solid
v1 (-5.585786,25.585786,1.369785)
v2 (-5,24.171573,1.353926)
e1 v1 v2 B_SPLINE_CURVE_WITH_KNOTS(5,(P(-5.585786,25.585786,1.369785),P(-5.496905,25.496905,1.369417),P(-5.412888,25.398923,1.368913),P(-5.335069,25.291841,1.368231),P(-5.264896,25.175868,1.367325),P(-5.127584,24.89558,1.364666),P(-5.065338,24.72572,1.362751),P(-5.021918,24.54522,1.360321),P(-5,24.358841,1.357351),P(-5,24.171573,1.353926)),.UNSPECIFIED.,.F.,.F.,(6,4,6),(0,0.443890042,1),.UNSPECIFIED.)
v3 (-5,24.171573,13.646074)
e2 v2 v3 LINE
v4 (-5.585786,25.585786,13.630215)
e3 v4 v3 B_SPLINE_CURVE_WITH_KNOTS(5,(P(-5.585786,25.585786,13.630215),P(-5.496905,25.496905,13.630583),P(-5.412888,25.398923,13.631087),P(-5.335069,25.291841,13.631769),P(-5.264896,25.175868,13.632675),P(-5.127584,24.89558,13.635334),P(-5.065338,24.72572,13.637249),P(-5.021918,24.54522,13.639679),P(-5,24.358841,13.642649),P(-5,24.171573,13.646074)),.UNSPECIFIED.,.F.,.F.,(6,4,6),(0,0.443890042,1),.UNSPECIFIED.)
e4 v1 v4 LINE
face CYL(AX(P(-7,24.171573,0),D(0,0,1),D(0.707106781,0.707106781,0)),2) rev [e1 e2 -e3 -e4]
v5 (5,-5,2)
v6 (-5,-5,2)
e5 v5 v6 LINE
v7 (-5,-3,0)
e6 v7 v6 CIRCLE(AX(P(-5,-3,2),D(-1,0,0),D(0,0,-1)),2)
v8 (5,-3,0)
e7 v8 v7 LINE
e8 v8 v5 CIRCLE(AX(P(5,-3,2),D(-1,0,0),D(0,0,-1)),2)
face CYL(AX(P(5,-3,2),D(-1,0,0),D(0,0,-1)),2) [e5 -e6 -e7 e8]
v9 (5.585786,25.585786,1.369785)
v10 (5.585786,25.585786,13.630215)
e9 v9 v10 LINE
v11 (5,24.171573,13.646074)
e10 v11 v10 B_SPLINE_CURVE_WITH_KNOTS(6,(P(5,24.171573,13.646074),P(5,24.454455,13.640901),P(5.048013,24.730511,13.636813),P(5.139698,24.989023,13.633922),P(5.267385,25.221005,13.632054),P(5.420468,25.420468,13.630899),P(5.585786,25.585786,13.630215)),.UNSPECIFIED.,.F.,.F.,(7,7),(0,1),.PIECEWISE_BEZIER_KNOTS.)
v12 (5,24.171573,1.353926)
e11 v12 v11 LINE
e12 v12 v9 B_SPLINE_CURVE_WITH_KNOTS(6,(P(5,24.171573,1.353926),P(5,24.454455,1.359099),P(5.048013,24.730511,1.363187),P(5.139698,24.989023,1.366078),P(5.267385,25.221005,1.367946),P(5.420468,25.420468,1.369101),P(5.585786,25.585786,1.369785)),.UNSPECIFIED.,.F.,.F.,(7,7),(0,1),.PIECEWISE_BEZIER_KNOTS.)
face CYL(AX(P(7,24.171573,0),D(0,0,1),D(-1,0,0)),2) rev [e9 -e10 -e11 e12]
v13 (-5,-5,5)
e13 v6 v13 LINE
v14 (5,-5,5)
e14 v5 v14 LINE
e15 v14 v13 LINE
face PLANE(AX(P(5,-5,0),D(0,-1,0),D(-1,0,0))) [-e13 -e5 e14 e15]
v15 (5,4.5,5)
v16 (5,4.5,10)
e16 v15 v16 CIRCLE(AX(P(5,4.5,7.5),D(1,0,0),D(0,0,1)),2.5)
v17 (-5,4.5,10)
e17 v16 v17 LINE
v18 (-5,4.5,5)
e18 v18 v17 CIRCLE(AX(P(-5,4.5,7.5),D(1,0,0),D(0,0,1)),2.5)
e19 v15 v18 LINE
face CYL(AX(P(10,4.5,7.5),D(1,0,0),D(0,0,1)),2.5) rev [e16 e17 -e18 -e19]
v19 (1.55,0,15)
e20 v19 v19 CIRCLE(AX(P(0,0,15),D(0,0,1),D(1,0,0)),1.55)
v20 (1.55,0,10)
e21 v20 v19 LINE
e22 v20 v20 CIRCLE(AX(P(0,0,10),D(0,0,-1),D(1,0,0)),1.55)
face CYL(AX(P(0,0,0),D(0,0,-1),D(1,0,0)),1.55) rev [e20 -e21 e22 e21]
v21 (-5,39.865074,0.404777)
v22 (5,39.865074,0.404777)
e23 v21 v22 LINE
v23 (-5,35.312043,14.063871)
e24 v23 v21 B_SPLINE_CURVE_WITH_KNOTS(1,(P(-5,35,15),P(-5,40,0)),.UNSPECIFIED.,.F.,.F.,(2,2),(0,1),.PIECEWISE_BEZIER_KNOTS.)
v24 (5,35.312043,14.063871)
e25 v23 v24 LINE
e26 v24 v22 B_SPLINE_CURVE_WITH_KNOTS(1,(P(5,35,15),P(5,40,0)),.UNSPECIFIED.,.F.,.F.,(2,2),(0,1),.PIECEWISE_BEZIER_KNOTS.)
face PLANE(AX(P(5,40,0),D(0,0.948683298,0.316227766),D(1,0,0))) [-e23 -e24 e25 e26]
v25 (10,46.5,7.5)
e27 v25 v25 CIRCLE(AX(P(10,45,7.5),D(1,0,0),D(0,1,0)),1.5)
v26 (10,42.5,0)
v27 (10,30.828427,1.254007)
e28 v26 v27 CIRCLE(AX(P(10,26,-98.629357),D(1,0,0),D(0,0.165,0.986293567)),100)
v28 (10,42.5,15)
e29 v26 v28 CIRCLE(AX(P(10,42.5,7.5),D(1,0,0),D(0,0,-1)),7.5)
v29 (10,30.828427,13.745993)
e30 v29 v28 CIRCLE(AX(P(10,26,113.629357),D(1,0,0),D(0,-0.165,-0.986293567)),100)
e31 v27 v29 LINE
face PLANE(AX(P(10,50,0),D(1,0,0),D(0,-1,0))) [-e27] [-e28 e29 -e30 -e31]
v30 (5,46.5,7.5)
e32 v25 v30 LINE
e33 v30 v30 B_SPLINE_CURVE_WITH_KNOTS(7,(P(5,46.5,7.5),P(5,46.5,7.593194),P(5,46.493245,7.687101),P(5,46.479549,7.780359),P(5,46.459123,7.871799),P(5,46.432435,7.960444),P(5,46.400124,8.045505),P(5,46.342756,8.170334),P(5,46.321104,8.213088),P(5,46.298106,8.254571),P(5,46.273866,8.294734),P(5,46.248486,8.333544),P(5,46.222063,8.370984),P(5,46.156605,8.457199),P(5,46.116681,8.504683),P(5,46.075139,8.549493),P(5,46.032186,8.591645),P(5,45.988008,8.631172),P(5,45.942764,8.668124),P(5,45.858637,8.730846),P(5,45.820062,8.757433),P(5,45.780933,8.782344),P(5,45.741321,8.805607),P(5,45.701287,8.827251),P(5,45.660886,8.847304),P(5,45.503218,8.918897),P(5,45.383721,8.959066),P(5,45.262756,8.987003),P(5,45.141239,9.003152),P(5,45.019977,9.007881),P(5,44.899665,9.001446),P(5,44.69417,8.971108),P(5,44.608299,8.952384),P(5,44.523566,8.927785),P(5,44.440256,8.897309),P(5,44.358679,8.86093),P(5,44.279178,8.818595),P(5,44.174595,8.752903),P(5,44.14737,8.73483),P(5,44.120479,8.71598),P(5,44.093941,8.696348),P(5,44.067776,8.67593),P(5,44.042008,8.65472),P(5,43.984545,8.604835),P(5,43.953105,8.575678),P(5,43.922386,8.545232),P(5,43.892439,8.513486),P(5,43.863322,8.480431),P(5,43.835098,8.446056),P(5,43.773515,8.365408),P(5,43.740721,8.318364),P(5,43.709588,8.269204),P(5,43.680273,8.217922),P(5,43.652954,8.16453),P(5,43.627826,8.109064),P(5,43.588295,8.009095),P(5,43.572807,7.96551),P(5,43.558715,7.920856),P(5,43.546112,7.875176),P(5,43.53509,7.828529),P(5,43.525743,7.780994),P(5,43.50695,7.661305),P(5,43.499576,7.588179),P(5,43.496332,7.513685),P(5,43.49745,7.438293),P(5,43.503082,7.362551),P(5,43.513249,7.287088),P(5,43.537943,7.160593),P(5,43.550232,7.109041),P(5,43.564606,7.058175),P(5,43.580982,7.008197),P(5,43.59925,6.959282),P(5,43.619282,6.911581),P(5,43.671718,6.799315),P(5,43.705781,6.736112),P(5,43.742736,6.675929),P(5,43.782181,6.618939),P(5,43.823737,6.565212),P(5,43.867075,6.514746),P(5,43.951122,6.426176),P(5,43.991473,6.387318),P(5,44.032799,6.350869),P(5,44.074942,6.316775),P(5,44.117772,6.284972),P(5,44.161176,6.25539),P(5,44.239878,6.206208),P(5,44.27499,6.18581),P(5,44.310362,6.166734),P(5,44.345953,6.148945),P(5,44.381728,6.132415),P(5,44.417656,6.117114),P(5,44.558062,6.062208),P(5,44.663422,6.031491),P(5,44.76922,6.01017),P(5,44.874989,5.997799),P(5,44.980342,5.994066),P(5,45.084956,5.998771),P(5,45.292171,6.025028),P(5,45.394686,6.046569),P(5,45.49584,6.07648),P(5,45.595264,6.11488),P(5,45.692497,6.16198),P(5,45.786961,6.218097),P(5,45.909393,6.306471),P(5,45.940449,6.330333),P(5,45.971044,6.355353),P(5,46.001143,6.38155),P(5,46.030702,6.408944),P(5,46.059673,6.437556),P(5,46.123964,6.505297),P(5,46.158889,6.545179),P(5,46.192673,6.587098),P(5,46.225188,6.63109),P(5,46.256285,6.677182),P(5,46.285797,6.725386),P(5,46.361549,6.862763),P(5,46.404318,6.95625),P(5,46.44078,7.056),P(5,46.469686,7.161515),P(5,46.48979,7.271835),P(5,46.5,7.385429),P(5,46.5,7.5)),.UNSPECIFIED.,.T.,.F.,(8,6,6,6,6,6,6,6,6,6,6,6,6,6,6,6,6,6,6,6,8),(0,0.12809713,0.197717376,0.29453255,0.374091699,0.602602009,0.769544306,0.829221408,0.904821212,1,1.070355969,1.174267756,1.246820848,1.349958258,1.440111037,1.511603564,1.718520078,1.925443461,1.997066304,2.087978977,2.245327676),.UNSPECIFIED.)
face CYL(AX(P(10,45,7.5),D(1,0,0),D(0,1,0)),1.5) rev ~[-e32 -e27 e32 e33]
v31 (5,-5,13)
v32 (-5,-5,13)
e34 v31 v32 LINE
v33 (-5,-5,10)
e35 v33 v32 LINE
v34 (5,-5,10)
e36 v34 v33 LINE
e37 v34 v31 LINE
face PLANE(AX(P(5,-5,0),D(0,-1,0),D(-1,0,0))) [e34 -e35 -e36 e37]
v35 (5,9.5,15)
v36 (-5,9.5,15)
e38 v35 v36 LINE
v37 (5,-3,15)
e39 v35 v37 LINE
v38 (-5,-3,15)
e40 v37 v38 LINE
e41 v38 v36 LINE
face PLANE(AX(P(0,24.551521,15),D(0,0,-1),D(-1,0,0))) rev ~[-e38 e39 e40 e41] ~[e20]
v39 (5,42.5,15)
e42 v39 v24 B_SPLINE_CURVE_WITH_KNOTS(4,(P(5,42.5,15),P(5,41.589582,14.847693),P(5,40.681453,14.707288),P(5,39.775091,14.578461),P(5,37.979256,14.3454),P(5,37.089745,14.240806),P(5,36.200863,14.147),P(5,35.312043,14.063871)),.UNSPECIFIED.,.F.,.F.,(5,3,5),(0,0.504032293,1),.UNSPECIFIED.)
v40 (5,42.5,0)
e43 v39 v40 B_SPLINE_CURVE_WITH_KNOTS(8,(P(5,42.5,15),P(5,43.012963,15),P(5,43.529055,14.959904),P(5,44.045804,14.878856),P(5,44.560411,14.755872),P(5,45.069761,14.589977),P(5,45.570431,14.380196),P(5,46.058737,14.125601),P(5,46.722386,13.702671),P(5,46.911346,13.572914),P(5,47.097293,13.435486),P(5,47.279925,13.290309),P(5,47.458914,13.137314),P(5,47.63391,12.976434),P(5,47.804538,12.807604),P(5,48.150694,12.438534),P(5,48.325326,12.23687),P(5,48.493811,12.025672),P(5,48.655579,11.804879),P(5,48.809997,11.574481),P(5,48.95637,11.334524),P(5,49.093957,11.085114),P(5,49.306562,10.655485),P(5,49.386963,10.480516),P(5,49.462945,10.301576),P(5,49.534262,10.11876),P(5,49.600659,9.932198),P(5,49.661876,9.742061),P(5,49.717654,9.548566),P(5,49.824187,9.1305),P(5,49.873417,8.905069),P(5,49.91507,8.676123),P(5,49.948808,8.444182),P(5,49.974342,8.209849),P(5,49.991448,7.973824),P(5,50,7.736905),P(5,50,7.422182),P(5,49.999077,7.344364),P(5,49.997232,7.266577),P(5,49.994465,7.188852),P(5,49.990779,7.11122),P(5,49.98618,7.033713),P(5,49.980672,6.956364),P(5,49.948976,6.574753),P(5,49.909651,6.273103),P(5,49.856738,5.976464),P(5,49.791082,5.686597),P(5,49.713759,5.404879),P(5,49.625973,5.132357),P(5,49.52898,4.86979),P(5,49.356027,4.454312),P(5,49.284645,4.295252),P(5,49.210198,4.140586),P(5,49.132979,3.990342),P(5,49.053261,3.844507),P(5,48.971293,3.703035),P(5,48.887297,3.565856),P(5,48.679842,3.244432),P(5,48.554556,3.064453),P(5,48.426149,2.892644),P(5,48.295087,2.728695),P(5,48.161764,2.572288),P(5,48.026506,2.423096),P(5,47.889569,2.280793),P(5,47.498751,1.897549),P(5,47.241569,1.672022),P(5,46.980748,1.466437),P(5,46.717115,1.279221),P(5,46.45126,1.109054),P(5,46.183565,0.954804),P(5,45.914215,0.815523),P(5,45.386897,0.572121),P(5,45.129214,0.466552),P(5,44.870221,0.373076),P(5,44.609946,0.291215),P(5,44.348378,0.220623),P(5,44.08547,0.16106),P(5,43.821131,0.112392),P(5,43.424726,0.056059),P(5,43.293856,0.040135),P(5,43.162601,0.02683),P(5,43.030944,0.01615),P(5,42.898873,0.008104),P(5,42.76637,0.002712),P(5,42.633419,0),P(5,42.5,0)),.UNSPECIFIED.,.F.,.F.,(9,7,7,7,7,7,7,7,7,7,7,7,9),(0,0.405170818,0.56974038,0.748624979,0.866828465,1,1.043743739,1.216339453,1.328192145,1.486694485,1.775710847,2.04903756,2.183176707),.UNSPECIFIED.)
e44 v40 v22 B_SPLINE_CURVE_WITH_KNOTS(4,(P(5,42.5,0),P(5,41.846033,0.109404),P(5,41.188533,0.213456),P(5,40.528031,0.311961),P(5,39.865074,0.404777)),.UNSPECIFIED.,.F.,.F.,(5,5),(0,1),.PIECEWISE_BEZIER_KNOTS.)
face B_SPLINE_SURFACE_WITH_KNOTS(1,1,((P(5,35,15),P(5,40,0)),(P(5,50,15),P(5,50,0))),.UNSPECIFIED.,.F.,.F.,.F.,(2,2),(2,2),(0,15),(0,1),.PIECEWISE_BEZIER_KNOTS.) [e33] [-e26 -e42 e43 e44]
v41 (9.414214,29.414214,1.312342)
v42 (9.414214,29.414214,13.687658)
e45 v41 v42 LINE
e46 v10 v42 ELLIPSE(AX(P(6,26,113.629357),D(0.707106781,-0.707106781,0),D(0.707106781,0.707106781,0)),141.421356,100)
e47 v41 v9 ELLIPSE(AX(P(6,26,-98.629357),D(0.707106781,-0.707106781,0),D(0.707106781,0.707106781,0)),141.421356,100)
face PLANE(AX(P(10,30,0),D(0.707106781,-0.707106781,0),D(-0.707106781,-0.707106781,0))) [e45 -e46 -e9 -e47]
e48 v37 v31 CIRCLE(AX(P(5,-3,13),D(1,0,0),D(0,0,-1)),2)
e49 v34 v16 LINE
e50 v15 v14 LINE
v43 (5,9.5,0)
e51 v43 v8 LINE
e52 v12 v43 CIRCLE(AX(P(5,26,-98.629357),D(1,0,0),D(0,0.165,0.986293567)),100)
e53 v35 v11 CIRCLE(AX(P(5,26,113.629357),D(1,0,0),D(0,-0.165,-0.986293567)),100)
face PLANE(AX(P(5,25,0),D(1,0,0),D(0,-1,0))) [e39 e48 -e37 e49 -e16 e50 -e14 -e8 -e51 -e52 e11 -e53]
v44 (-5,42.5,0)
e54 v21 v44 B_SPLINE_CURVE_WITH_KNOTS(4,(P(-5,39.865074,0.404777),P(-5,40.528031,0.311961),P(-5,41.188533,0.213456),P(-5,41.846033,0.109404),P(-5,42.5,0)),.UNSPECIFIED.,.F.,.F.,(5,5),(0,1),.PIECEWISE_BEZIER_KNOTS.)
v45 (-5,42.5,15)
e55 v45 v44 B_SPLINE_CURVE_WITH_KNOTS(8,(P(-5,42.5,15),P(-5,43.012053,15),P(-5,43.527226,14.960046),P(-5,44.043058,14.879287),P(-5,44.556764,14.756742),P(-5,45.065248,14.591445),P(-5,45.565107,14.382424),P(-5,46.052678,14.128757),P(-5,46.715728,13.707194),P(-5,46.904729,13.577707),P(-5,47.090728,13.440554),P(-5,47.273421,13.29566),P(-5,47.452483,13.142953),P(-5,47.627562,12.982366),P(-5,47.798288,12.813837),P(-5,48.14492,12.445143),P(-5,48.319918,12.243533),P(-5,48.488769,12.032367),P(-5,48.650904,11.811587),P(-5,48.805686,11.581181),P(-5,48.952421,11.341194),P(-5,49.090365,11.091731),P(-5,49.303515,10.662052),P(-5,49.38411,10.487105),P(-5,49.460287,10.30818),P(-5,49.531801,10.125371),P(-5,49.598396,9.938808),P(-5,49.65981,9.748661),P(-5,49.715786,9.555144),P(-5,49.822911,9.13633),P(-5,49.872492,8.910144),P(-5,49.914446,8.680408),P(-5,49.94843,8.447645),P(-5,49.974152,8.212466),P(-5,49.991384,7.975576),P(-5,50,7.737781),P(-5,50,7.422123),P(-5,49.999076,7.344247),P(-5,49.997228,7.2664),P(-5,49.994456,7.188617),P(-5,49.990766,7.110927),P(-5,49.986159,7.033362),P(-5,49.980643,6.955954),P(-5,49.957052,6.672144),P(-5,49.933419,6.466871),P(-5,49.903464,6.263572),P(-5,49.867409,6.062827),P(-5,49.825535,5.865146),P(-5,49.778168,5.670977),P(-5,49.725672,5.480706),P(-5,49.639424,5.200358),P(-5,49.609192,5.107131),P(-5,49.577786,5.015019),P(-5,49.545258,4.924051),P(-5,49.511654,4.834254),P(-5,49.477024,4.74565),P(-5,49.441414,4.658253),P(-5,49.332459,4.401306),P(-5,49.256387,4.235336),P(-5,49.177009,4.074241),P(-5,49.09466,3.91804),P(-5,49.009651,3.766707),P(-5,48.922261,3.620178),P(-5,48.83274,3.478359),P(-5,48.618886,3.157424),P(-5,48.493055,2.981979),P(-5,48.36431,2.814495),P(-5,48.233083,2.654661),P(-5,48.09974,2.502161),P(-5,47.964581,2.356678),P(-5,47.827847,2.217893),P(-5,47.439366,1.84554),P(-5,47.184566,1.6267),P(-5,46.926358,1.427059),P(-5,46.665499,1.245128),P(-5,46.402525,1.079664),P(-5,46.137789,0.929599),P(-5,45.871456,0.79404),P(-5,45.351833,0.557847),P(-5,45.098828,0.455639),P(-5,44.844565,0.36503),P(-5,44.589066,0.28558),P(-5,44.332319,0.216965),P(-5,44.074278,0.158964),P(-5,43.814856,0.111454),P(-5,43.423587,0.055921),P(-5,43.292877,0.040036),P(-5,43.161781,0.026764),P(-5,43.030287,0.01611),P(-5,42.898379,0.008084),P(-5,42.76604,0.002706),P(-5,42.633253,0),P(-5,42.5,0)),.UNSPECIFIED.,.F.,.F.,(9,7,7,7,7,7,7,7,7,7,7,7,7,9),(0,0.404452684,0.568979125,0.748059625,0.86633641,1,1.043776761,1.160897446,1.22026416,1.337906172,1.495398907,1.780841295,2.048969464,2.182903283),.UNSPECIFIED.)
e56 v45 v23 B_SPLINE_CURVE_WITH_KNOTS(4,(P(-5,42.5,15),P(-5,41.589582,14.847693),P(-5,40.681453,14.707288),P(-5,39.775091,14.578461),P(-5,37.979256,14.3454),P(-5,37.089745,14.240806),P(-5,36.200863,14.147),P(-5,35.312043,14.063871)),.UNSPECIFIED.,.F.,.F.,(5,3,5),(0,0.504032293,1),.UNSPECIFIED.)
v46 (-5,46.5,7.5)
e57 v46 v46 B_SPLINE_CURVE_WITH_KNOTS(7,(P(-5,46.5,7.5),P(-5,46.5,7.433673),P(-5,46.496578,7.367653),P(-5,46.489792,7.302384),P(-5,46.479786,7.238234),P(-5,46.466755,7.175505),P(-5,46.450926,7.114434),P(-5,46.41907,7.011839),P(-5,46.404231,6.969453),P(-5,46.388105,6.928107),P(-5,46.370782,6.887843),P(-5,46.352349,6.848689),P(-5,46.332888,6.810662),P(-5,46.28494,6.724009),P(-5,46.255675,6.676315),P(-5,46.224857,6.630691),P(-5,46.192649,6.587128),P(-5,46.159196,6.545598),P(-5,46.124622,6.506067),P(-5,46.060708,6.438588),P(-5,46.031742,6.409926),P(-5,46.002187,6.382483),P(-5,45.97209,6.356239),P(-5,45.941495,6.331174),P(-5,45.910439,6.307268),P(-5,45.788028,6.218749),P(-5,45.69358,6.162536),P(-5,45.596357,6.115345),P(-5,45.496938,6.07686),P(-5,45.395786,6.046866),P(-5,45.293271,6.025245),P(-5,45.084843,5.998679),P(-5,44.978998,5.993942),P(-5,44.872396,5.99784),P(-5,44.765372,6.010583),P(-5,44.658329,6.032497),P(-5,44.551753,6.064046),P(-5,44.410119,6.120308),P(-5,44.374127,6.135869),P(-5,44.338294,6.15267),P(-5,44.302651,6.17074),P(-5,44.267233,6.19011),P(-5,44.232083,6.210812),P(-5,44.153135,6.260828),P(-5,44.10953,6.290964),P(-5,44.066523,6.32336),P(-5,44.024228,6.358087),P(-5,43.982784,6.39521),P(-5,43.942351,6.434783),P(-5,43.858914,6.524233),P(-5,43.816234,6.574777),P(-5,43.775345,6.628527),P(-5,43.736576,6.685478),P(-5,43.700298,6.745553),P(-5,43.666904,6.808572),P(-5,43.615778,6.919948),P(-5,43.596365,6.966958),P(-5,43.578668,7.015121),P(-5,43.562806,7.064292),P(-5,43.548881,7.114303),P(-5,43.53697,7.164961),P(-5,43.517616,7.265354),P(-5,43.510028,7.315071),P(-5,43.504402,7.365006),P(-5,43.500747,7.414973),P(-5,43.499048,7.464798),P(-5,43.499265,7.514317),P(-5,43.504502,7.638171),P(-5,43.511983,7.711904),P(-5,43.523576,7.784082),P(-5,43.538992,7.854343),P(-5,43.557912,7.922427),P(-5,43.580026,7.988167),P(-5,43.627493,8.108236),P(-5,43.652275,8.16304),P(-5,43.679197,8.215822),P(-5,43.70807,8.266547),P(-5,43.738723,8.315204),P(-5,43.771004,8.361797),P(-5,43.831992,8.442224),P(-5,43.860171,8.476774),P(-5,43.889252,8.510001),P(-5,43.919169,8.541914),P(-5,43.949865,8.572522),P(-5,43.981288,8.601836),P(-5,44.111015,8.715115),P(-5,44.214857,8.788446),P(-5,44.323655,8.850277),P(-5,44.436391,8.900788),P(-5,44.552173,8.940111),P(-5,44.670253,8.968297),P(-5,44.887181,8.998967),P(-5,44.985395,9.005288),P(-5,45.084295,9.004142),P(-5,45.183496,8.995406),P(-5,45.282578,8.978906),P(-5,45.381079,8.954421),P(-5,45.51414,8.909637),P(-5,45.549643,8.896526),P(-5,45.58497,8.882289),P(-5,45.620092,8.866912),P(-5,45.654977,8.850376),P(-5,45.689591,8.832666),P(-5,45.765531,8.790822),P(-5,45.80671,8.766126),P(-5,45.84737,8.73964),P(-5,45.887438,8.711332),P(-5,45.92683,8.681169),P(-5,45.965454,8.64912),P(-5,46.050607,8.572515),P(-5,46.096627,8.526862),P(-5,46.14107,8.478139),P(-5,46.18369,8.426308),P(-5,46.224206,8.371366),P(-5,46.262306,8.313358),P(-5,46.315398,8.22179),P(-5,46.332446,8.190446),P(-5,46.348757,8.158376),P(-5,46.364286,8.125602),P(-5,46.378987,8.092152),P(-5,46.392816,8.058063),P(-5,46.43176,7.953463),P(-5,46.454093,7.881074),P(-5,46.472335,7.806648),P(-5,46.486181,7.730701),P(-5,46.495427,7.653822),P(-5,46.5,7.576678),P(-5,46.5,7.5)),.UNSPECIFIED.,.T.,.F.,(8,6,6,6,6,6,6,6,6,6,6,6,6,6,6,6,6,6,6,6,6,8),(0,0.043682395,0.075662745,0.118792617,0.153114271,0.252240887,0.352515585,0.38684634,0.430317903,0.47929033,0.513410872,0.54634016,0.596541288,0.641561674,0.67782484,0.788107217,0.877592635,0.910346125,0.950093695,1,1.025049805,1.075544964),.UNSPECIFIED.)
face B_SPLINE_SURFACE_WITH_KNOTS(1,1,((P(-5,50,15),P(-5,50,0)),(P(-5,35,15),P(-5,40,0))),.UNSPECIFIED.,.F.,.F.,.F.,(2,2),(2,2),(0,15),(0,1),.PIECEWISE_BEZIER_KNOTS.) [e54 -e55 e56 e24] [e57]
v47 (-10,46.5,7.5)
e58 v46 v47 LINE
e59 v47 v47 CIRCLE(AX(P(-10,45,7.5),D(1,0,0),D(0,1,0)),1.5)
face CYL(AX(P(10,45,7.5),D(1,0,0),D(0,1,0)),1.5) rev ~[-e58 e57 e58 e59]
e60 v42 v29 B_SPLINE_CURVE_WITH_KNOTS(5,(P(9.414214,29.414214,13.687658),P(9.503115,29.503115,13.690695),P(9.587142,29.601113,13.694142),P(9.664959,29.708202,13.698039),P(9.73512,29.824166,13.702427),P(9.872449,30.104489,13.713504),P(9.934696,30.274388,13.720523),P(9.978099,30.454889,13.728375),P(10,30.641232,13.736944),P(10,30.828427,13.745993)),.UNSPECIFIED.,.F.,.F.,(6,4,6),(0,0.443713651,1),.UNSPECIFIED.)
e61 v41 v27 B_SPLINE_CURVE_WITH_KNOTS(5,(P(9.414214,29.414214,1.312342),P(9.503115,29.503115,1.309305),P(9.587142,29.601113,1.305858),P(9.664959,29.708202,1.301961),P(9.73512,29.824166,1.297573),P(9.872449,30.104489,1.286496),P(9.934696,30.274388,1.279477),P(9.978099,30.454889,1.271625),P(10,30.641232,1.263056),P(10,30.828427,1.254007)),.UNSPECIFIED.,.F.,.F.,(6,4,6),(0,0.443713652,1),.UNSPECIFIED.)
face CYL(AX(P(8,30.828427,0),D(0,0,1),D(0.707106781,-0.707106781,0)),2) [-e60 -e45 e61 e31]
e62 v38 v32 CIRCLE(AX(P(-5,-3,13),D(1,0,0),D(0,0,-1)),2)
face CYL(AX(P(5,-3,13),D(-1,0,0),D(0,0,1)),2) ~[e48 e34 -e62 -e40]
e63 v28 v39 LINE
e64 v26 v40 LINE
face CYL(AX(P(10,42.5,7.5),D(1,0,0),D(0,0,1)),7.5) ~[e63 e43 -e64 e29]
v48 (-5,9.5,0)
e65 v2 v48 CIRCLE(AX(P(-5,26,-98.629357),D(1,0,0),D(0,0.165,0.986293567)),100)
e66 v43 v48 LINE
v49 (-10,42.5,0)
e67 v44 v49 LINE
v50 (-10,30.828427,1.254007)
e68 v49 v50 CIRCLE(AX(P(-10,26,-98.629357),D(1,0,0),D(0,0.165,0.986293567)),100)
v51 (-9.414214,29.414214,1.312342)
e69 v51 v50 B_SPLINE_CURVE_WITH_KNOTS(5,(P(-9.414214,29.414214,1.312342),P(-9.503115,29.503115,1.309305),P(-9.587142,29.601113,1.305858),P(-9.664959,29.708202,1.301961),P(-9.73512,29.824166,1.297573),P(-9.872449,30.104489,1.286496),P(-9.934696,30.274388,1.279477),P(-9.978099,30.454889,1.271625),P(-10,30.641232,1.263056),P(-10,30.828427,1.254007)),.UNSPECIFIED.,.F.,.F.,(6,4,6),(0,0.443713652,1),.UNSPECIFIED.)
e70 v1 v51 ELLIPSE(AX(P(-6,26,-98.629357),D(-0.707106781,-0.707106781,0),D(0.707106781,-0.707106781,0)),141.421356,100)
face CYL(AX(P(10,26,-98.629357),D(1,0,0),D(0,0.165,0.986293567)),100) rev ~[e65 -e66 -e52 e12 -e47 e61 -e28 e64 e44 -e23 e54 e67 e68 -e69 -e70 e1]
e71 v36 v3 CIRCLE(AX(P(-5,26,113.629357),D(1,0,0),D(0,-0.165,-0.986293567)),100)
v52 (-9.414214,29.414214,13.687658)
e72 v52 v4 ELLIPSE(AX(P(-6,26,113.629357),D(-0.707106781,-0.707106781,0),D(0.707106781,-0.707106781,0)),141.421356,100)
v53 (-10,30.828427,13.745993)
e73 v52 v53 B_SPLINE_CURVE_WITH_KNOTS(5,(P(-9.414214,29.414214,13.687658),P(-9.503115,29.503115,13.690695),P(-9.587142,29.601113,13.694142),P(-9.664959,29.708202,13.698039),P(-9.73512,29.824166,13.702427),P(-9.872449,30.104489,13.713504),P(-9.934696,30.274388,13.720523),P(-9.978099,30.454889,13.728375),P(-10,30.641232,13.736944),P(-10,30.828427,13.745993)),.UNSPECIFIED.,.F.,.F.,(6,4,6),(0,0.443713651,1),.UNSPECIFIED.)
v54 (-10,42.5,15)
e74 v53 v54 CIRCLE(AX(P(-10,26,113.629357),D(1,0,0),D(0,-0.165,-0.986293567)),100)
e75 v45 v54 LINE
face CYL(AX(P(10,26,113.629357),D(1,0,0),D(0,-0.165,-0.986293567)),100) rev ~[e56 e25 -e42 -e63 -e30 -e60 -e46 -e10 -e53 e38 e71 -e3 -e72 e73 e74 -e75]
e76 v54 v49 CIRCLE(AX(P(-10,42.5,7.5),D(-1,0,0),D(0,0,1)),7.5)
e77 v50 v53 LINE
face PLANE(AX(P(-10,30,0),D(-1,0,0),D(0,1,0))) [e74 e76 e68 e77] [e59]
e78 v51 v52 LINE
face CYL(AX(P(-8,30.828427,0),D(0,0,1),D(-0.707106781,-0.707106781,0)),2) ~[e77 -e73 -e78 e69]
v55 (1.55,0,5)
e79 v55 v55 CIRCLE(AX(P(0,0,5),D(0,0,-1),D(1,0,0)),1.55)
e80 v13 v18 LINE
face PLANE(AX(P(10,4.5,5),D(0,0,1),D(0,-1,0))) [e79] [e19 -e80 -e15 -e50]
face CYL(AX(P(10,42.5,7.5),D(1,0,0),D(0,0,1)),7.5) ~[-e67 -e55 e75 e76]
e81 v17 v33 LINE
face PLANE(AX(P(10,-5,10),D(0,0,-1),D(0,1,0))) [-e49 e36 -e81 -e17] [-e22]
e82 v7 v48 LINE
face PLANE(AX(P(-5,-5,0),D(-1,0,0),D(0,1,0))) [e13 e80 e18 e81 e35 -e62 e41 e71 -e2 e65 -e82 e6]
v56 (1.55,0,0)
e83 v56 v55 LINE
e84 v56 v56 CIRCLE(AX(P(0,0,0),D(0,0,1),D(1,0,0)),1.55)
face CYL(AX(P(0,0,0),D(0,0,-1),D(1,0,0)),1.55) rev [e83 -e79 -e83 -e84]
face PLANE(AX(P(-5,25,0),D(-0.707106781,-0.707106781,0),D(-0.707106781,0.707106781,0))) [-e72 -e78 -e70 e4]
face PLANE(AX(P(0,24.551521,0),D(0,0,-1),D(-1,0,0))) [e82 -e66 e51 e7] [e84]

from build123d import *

# Parameters (mm, degrees)
CROQUIS1_R              = 1.55
SALIENTE_EXTRUIR1_DEPTH = 15
REDONDEO1_R             = 2
CROQUIS10_R             = 1.5
CORTAR_EXTRUIR1_DEPTH   = 56.90169959


with BuildPart() as part:
    # Croquis1 → Saliente-Extruir1 (new body)
    with BuildSketch(Plane.XY):
        Polygon((-5, 25), (-10, 30), (-10, 50), (10, 50), (10, 30), (5, 25), (5, -5), (-5, -5), align=None)
        Circle(CROQUIS1_R, mode=Mode.SUBTRACT)
    extrude(amount=SALIENTE_EXTRUIR1_DEPTH)

    # Croquis8 → Cortar-Recubrir1 section 0
    with BuildSketch(Plane.XY.offset(15)):
        with BuildLine():
            Line((5, 50), (-5, 50))
            Line((-5, 50), (-5, 35))
            Line((-5, 35), (5, 35))
            Line((5, 35), (5, 50))
        make_face()
    # Croquis9 → Cortar-Recubrir1 section 1
    with BuildSketch(Plane(origin=(0, 0, 0), x_dir=(-1, 0, 0), z_dir=(0, 0, -1))):
        with BuildLine():
            Line((5, 50), (-5, 50))
            Line((-5, 50), (-5, 40))
            Line((-5, 40), (5, 40))
            Line((5, 40), (5, 50))
        make_face()
    loft(mode=Mode.SUBTRACT)

    # Redondeo1
    redondeo1_edges = [part.edges().sort_by_distance(p)[0] for p in [
        (0, -5, 0),
        (5, 25, 7.5),
        (-5, 25, 7.5),
        (-10, 30, 7.5),
        (10, 30, 7.5),
        (0, -5, 15),
    ]]
    fillet(redondeo1_edges, radius=REDONDEO1_R)

    # Croquis10 → Cortar-Extruir1 (cut, through all)
    with BuildSketch(Plane(origin=(10, 0, 0), x_dir=(0, 0, -1), z_dir=(1, 0, 0))):
        with Locations(Location((-7.5, 45, 0), (0, 0, 90))):
            Circle(CROQUIS10_R)
        with BuildLine():
            Line((-10, -5), (-10, 4.5))
            ThreePointArc((-10, 4.5), (-7.5, 7), (-5, 4.5))
            Line((-5, 4.5), (-5, -5))
            ThreePointArc((-5, -5), (-7.5, -7.5), (-10, -5))
        make_face()
        with BuildLine():
            Line((-17.5, 9.5), (-15, 9.5))
            ThreePointArc((-15, 9.5), (-13.629356685, 26), (-15, 42.5))
            ThreePointArc((-15, 42.5), (-7.5, 50), (0, 42.5))
            ThreePointArc((0, 42.5), (-1.370643315, 26), (0, 9.5))
            Line((0, 9.5), (2.5, 9.5))
            Line((2.5, 9.5), (2.5, 51.5))
            Line((2.5, 51.5), (-17.5, 51.5))
            Line((-17.5, 51.5), (-17.5, 9.5))
        make_face()
    extrude(amount=-CORTAR_EXTRUIR1_DEPTH, mode=Mode.SUBTRACT)


solid = part.part
